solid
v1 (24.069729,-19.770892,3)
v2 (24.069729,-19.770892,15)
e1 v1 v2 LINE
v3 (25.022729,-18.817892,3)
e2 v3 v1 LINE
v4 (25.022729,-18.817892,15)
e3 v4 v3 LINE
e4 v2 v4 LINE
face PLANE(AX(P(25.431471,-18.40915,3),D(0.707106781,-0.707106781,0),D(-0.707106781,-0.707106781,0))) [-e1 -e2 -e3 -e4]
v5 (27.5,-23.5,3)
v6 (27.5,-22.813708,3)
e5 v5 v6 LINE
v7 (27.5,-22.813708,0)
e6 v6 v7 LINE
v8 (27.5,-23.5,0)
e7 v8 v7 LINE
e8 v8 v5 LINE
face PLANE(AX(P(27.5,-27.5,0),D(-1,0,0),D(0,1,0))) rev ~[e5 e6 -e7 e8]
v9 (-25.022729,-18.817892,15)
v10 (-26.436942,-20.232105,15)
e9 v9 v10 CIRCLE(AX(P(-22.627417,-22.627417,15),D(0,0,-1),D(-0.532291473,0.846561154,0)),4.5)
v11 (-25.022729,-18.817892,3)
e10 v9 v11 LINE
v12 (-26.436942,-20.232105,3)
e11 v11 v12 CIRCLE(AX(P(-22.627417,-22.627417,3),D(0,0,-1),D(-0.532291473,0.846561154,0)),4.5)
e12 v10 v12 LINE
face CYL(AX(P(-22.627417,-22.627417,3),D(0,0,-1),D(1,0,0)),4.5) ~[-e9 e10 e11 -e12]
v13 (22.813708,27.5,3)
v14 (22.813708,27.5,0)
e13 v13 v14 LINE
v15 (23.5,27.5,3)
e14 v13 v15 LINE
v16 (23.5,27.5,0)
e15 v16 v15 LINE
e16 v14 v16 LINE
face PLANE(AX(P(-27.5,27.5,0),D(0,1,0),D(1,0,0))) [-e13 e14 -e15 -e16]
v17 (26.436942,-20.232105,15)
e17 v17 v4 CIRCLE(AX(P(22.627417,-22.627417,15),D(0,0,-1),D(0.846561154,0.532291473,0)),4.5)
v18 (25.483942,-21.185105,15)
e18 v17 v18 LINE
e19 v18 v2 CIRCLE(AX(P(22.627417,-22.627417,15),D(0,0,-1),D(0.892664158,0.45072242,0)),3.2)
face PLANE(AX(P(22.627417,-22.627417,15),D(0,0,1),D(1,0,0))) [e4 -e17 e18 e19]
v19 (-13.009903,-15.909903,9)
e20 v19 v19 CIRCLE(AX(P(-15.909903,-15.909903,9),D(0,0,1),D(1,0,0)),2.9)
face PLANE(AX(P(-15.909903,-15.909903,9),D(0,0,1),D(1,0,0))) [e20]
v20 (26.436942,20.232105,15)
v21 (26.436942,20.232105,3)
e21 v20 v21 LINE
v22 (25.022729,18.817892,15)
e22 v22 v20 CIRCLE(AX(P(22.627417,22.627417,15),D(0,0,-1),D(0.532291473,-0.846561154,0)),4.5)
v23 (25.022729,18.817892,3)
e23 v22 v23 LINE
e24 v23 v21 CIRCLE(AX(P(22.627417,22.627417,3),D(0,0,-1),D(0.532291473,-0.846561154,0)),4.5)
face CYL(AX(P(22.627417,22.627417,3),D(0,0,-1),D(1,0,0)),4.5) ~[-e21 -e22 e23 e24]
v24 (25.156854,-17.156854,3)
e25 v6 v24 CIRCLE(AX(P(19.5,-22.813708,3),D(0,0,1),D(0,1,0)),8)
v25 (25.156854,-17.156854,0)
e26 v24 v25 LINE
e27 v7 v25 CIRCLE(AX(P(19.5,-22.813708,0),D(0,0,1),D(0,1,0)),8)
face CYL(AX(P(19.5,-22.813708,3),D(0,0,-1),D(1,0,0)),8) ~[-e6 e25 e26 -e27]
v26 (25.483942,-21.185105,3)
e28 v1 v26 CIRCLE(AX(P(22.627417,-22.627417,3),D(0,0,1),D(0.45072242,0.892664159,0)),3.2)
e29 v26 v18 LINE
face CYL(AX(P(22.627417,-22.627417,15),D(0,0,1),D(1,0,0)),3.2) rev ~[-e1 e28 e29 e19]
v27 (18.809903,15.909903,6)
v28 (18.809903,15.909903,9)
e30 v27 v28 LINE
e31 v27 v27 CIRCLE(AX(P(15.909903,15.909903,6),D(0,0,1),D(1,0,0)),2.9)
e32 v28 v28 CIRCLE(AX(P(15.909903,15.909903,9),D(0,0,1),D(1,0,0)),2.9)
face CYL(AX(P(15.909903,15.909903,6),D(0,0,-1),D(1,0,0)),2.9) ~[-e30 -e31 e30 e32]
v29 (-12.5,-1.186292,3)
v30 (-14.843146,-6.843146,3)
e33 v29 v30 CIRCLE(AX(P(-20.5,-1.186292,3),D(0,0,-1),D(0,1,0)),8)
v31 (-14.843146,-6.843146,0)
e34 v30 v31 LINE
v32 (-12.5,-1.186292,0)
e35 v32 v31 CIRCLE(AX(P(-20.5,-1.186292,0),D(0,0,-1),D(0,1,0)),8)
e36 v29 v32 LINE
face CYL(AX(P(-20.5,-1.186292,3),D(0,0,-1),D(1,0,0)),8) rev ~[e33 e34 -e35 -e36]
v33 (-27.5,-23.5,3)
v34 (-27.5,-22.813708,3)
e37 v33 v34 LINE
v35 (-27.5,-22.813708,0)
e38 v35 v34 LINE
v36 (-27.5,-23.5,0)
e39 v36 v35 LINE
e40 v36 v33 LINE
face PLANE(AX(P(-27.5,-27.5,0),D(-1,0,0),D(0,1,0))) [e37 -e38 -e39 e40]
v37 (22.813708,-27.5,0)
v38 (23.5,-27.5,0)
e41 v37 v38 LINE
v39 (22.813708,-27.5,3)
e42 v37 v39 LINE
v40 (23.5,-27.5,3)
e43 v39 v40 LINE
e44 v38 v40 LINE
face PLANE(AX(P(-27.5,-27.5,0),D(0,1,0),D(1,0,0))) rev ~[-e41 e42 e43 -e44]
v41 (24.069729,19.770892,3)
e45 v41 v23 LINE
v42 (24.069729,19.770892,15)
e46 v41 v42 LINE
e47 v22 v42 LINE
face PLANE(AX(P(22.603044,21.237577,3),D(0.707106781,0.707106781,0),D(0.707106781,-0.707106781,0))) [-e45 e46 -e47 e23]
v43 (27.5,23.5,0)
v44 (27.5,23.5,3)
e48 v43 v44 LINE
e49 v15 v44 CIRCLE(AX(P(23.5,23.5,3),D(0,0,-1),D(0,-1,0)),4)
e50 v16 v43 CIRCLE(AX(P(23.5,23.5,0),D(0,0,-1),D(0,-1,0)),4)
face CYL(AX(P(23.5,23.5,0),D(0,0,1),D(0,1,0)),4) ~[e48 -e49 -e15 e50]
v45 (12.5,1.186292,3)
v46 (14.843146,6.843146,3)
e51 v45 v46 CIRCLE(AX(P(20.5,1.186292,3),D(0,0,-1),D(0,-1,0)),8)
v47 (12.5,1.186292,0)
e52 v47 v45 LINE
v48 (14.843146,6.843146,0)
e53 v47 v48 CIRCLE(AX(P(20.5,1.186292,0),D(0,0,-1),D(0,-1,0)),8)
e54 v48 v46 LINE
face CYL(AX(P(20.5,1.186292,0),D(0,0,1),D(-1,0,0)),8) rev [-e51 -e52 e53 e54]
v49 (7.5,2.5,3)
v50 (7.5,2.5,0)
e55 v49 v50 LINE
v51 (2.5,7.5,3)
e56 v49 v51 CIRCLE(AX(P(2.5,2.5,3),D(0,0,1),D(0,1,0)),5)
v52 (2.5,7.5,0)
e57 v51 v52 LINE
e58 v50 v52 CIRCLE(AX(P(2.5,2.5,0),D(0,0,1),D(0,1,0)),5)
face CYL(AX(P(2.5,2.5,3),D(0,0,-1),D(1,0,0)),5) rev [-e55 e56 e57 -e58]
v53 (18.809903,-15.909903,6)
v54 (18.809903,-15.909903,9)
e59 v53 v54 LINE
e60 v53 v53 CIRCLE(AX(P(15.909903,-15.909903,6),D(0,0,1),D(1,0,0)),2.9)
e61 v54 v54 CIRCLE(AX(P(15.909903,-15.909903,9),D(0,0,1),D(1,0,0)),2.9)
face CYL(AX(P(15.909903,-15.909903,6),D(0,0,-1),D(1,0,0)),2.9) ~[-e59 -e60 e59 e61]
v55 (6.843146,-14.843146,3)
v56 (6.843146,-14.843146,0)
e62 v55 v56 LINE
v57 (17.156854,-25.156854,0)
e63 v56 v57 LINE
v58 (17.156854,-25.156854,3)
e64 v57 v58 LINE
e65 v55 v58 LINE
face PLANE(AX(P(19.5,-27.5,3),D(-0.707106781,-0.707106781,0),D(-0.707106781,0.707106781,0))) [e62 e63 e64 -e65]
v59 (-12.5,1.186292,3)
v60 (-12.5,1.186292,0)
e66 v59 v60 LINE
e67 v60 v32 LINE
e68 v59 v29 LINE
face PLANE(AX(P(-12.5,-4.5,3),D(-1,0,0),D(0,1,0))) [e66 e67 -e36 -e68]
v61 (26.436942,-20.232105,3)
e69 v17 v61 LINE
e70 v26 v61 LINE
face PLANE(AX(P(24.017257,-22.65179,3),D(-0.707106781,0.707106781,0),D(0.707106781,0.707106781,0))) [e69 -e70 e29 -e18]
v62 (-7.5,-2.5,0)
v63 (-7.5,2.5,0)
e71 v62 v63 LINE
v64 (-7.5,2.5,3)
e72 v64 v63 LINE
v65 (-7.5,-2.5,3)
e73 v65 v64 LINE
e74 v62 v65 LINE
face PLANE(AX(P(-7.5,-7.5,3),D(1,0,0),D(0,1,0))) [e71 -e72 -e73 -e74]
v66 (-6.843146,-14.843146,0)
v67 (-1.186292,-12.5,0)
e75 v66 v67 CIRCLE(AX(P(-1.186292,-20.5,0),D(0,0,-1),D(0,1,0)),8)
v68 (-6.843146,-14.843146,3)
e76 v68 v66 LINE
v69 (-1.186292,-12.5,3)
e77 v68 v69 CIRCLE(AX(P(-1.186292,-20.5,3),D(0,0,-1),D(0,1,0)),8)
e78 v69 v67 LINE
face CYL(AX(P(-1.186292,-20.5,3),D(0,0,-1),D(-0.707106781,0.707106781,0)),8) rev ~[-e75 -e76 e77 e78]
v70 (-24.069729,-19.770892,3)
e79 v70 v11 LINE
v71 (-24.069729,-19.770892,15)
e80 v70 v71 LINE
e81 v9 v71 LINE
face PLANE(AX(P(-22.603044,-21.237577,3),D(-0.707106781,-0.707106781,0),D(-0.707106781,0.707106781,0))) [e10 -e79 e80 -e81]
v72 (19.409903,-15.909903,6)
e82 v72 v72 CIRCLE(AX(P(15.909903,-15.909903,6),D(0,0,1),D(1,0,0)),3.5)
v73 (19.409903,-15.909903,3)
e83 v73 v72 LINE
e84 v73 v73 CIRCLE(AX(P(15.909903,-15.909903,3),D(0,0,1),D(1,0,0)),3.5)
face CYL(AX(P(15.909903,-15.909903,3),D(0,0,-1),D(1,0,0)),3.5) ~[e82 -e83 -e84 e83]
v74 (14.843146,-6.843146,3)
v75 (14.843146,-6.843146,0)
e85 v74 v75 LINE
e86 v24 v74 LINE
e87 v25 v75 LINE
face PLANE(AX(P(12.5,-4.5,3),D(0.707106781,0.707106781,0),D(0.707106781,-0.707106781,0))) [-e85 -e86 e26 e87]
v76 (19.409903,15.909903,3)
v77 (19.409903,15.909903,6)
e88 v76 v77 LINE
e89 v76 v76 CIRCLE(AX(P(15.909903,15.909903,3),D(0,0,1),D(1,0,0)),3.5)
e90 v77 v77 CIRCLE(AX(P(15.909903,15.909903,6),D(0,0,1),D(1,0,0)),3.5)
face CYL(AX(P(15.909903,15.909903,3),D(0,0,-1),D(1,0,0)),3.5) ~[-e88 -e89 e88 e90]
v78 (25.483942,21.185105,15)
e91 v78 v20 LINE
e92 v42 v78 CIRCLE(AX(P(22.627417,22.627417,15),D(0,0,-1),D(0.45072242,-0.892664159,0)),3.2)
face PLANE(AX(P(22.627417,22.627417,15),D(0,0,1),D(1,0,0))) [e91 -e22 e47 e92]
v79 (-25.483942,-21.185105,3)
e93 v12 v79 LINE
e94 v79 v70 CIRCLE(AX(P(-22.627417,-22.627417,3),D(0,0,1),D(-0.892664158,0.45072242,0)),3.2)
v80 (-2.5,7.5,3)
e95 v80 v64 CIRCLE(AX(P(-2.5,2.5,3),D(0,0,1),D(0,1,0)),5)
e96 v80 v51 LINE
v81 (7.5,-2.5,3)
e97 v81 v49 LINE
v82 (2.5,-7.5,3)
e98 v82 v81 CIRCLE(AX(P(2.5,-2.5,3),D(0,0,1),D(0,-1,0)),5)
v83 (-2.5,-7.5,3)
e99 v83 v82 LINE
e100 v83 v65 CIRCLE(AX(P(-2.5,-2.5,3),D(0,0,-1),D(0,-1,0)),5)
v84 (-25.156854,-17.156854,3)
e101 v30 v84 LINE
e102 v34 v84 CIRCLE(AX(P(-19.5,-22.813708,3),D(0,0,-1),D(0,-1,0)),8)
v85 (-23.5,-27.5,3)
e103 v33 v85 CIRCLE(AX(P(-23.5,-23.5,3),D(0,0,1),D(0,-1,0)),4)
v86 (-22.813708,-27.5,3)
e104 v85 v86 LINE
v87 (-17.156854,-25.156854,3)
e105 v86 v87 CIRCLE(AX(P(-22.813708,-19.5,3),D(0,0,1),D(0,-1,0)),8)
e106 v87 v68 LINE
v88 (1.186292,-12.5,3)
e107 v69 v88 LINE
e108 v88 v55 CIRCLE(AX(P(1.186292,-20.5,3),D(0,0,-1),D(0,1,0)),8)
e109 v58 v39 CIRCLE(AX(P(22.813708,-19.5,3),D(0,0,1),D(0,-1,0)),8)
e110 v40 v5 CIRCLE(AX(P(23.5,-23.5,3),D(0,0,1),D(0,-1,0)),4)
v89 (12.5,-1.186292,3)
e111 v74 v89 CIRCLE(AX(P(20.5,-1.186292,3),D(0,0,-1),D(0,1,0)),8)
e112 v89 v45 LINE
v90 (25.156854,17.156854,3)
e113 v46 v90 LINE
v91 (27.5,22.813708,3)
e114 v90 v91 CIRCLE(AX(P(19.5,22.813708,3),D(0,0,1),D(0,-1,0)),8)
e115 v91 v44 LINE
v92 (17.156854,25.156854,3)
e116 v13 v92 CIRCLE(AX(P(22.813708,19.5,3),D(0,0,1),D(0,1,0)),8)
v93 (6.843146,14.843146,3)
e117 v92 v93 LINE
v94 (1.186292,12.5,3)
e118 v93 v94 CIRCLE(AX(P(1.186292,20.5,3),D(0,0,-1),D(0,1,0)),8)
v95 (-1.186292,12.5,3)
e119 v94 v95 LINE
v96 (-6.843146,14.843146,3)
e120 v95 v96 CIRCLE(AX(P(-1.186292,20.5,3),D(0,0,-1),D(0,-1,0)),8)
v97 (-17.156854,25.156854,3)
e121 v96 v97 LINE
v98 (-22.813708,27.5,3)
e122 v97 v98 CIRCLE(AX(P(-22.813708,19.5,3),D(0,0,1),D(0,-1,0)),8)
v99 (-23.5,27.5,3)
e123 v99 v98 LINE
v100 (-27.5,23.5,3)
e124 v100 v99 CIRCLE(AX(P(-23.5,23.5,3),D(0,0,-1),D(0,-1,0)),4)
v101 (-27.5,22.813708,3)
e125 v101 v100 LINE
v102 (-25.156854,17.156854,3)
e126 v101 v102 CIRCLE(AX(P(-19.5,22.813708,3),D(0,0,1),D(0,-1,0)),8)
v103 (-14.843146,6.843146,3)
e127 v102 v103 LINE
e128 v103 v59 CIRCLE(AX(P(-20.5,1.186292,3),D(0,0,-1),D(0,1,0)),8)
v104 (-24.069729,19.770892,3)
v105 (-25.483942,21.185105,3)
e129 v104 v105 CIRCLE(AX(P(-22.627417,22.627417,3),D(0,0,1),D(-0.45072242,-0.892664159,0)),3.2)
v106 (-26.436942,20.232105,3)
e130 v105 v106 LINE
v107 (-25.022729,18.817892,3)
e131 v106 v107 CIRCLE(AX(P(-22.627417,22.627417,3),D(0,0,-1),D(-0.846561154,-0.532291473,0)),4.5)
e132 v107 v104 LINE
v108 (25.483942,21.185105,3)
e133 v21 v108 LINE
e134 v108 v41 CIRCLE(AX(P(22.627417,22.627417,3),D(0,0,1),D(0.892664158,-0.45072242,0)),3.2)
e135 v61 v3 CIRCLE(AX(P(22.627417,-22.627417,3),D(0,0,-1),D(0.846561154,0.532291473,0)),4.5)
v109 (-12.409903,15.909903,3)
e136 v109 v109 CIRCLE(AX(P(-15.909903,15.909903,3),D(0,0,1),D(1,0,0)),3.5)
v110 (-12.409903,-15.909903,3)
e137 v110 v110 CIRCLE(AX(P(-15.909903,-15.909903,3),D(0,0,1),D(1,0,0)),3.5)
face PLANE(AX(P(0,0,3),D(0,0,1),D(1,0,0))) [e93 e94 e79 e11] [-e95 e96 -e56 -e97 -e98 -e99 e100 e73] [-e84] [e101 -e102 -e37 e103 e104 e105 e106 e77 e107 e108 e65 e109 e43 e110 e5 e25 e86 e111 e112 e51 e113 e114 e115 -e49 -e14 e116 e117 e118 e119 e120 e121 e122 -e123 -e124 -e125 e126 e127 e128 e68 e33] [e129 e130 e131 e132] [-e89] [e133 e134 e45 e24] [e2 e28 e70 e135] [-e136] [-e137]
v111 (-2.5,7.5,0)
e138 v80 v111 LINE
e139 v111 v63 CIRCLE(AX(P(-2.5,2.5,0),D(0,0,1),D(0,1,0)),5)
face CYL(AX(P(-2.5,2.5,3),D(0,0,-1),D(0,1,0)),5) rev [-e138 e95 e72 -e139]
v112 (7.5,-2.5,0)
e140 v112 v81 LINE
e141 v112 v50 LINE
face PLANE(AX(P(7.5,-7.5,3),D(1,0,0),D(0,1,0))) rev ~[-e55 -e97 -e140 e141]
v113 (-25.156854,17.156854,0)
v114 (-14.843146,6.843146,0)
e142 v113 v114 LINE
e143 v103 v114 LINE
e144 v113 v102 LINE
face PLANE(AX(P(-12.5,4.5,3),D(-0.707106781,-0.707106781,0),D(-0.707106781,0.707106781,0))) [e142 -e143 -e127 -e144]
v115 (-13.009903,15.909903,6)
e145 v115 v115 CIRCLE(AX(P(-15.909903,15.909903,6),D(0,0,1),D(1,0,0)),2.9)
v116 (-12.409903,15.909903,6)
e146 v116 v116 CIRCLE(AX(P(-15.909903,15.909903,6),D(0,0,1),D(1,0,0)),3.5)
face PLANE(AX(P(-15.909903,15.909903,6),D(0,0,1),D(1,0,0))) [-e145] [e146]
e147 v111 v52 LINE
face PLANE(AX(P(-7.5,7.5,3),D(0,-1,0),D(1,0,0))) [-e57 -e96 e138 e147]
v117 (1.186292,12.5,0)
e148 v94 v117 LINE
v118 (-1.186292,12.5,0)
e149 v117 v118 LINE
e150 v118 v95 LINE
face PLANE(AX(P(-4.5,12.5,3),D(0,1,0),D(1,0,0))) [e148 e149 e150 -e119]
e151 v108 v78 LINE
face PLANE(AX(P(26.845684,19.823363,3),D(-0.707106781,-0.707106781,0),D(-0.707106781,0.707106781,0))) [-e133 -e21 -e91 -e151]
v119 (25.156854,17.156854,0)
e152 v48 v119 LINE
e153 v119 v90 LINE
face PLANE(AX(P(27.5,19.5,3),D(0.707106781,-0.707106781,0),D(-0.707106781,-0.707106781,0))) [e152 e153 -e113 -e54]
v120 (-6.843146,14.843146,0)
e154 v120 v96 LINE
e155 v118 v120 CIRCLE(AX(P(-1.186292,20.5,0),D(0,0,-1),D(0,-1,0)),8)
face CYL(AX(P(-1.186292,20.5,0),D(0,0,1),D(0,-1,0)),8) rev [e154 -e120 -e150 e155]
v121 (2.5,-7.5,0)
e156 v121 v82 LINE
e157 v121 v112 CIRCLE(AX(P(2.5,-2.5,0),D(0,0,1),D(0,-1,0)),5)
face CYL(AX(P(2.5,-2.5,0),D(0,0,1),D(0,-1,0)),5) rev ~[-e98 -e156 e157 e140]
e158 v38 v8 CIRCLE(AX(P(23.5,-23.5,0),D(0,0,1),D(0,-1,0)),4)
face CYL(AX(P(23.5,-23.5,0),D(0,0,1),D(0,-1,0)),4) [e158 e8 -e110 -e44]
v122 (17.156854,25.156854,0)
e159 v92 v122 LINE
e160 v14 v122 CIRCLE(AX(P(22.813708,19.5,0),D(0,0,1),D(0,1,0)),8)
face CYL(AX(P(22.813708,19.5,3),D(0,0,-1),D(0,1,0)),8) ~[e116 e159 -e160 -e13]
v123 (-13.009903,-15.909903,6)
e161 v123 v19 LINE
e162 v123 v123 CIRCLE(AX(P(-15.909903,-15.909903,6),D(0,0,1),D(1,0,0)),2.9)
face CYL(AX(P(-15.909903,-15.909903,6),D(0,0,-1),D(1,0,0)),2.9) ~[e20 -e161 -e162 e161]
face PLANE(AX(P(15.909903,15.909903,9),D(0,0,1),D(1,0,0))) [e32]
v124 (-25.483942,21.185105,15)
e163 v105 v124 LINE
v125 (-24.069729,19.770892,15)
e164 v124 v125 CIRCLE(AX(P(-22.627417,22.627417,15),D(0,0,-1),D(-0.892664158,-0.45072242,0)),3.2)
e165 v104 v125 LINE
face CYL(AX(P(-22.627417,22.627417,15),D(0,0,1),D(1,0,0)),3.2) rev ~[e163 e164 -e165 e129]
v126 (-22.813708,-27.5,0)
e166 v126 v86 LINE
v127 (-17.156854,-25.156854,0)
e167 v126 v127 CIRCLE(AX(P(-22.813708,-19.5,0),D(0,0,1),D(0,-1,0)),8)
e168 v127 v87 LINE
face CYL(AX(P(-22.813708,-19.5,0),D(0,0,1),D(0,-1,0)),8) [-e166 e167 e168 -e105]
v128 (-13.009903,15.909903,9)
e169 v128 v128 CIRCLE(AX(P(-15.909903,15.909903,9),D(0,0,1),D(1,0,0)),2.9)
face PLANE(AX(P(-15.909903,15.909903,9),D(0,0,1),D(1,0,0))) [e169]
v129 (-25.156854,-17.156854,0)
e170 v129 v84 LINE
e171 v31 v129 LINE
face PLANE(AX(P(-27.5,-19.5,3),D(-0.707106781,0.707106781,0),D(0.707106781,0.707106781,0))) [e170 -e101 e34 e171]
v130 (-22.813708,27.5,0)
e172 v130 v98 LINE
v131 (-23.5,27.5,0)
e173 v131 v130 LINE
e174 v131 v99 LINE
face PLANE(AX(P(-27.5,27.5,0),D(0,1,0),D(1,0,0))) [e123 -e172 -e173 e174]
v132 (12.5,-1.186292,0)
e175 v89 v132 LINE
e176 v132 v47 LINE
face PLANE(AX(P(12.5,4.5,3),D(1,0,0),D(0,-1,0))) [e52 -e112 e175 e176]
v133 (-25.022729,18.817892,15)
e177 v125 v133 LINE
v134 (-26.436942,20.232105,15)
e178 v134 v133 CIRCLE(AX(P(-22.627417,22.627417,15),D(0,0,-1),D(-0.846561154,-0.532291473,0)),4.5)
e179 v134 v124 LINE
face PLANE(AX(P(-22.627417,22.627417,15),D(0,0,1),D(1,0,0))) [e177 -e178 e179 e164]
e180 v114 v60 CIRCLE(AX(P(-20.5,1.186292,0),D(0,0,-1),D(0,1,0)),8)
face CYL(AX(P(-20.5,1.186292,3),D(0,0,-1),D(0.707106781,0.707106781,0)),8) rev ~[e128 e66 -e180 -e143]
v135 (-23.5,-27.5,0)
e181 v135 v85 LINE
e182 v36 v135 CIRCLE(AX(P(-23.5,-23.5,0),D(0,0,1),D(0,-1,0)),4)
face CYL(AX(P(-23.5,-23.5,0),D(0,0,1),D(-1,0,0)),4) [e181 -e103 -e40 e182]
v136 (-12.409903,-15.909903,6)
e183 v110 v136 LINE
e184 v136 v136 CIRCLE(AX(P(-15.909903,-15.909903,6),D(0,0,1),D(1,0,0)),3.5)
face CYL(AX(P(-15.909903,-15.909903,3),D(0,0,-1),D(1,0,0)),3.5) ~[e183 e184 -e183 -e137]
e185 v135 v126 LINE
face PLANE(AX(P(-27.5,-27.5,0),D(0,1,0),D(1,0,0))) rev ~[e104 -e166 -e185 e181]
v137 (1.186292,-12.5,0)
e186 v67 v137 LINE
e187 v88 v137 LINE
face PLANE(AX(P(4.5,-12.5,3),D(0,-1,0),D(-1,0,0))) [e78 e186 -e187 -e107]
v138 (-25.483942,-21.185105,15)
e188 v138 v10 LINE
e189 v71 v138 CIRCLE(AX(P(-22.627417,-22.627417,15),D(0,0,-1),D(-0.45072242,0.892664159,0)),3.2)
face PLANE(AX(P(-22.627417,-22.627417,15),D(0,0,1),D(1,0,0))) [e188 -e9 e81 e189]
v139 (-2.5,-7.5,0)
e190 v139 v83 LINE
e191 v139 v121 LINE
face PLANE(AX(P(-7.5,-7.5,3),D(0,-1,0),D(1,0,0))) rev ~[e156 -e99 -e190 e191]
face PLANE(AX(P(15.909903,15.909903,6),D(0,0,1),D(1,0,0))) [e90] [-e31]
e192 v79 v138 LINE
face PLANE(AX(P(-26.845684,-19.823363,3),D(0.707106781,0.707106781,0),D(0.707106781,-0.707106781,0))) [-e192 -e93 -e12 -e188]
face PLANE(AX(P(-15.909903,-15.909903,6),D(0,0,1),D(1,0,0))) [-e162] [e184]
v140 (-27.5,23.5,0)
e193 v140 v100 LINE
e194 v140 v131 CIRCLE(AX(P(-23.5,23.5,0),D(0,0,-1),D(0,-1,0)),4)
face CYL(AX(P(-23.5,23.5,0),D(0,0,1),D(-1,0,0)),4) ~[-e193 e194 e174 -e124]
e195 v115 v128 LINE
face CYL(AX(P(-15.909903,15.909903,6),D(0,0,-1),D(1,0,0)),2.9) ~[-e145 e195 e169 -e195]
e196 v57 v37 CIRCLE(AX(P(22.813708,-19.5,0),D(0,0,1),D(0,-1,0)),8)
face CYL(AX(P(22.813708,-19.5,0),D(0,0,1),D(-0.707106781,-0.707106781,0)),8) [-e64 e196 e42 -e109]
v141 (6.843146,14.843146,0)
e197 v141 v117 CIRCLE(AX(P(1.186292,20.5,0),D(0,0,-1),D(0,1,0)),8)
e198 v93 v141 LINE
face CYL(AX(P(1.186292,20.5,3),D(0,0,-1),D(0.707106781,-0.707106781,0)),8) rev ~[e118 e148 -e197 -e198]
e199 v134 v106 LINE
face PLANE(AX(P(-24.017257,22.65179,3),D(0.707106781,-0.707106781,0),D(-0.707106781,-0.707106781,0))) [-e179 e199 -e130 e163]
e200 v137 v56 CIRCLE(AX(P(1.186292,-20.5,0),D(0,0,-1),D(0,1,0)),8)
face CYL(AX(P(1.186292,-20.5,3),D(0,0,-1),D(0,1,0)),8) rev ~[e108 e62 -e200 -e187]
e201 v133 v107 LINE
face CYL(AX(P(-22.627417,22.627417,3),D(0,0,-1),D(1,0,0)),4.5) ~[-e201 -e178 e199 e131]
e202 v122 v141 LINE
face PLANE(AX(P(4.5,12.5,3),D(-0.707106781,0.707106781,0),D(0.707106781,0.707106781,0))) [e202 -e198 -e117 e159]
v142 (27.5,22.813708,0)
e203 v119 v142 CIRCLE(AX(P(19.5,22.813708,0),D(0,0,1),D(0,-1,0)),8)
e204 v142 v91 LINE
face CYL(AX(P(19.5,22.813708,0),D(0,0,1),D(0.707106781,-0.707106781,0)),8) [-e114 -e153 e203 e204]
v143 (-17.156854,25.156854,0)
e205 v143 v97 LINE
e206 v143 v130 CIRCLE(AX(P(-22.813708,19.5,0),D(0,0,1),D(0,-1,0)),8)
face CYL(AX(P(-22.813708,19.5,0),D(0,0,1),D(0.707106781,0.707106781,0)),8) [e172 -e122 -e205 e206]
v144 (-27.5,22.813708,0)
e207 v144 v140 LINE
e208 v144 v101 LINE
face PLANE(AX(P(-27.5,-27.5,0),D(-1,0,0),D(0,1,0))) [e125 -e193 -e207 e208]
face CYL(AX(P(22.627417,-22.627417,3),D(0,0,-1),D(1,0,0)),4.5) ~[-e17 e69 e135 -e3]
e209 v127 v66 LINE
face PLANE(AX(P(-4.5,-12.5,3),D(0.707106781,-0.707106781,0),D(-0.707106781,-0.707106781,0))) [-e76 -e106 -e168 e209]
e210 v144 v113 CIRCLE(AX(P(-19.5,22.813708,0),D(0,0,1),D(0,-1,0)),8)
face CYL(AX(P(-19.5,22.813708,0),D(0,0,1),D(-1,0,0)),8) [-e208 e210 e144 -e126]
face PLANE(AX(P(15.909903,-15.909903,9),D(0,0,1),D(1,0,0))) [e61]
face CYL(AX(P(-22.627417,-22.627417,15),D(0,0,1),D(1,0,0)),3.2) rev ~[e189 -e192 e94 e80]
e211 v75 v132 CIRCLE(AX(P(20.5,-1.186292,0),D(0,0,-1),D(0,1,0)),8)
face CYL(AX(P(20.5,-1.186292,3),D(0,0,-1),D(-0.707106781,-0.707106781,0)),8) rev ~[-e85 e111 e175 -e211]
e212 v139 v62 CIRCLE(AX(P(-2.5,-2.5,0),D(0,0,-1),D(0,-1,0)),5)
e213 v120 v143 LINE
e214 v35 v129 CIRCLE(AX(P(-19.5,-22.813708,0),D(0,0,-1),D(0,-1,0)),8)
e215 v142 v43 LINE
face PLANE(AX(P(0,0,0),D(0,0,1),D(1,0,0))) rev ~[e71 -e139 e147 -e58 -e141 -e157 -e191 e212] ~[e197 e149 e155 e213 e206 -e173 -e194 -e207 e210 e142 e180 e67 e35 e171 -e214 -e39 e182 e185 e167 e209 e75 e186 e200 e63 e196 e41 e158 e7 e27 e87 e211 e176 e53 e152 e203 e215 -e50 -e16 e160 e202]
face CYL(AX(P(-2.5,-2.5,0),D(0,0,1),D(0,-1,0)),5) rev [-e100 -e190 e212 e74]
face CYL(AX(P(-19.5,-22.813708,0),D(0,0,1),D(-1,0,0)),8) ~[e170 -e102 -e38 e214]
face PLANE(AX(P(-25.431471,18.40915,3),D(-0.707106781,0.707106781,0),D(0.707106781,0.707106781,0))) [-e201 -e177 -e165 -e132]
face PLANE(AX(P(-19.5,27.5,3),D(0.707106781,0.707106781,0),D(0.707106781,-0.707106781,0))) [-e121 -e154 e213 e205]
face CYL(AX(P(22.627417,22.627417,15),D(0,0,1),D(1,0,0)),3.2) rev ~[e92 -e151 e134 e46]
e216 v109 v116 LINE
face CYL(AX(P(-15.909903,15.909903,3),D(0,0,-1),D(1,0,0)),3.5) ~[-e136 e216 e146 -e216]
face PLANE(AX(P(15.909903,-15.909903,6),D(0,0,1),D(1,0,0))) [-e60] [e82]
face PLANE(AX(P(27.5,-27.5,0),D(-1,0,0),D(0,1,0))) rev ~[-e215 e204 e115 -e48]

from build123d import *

# Parameters (mm, degrees)
F0_W      = 55
F0_H      = 55
F1_DEPTH  = 3
F2_R      = 3.5
F3_DEPTH  = 3
F4_R      = 2.9
F5_DEPTH  = 3
F6_R      = 4.5
F7_DEPTH  = 12
F8_R      = 3.2
F9_DEPTH  = 12
F10_R     = 4
F11_W     = 15
F11_H     = 15
F12_DEPTH = 20
F14_DEPTH = 25
F15_R     = 8
F16_R     = 5


with BuildPart() as f1:
    # F0 (on Top) → F1 (new body)
    with BuildSketch(Plane.XY):
        Rectangle(F0_W, F0_H)
    extrude(amount=F1_DEPTH)

    # F2 (on face) → F3 (join)
    with BuildSketch(Plane.XY.offset(3)):
        with Locations((-15.9099025767, 15.9099025767)):
            Circle(F2_R)
        with Locations((15.9099025767, 15.9099025767)):
            Circle(F2_R)
        with Locations((-15.9099025767, -15.9099025767)):
            Circle(F2_R)
        with Locations((15.9099025767, -15.9099025767)):
            Circle(F2_R)
    extrude(amount=F3_DEPTH)

    # F4 (on face) → F5 (join)
    with BuildSketch(Plane.XY.offset(6)):
        with Locations((-15.9099025767, 15.9099025767)):
            Circle(F4_R)
        with Locations((15.9099025767, 15.9099025767)):
            Circle(F4_R)
        with Locations((-15.9099025767, -15.9099025767)):
            Circle(F4_R)
        with Locations((15.9099025767, -15.9099025767)):
            Circle(F4_R)
    extrude(amount=F5_DEPTH)

    # F6 (on face) → F7 (join)
    with BuildSketch(Plane.XY.offset(3)):
        with Locations((-22.627416998, 22.627416998)):
            Circle(F6_R)
        with Locations((22.627416998, 22.627416998)):
            Circle(F6_R)
        with Locations((22.627416998, -22.627416998)):
            Circle(F6_R)
        with Locations((-22.627416998, -22.627416998)):
            Circle(F6_R)
    extrude(amount=F7_DEPTH)

    # F8 (on face) → F9 (cut)
    with BuildSketch(Plane.XY.offset(15)):
        with Locations((-22.627416998, -22.627416998)):
            Circle(F8_R)
        with Locations((22.627416998, -22.627416998)):
            Circle(F8_R)
        with Locations((-22.627416998, 22.627416998)):
            Circle(F8_R)
        with Locations((22.627416998, 22.627416998)):
            Circle(F8_R)
    extrude(amount=-F9_DEPTH, mode=Mode.SUBTRACT)

    # F10
    f10_edges = [f1.edges().sort_by_distance(p)[0] for p in [
        (27.5, -27.5, 1.5),
        (-27.5, -27.5, 1.5),
        (-27.5, 27.5, 1.5),
        (27.5, 27.5, 1.5),
    ]]
    fillet(f10_edges, radius=F10_R)

    # F11 (on face) → F12 (cut, symmetric)
    with BuildSketch(Plane.XY.offset(3)):
        Polygon((-12.5, 4.5), (-27.5, 19.5), (-27.5, -19.5), (-12.5, -4.5), align=None)
        Polygon((19.5, 27.5), (-19.5, 27.5), (-4.5, 12.5), (4.5, 12.5), align=None)
        Polygon((27.5, -19.5), (27.5, 19.5), (12.5, 4.5), (12.5, -4.5), align=None)
        Polygon((-4.5, -12.5), (-19.5, -27.5), (19.5, -27.5), (4.5, -12.5), align=None)
        Rectangle(F11_W, F11_H)
    extrude(amount=F12_DEPTH, both=True, mode=Mode.SUBTRACT)

    # F13 (on face) → F14 (cut)
    with BuildSketch(Plane.XY.offset(3)):
        Polygon((-26.8456843913, 19.823363167), (-25.4314708289, 18.4091496047), (-22.6030437041, 21.2375767294), (-24.0172572665, 22.6517902918), align=None)
        Polygon((22.6030437041, 21.2375767294), (25.4314708289, 18.4091496047), (26.8456843913, 19.823363167), (24.0172572665, 22.6517902918), align=None)
        Polygon((-25.4314708289, -18.4091496047), (-26.8456843913, -19.823363167), (-24.0172572665, -22.6517902918), (-22.6030437041, -21.2375767294), align=None)
        Polygon((26.8456843913, -19.823363167), (25.4314708289, -18.4091496047), (22.6030437041, -21.2375767294), (24.0172572665, -22.6517902918), align=None)
    extrude(amount=F14_DEPTH, mode=Mode.SUBTRACT)

    # F15
    f15_edges = [f1.edges().sort_by_distance(p)[0] for p in [
        (19.5, -27.5, 1.5),
        (4.5, -12.5, 1.5),
        (-4.5, -12.5, 1.5),
        (-19.5, -27.5, 1.5),
        (-27.5, -19.5, 1.5),
        (-12.5, -4.5, 1.5),
        (-12.5, 4.5, 1.5),
        (-27.5, 19.5, 1.5),
        (-19.5, 27.5, 1.5),
        (-4.5, 12.5, 1.5),
        (4.5, 12.5, 1.5),
        (19.5, 27.5, 1.5),
        (12.5, -4.5, 1.5),
        (12.5, 4.5, 1.5),
        (27.5, 19.5, 1.5),
        (27.5, -19.5, 1.5),
    ]]
    fillet(f15_edges, radius=F15_R)

    # F16
    f16_edges = [f1.edges().sort_by_distance(p)[0] for p in [
        (-7.5, 7.5, 1.5),
        (7.5, 7.5, 1.5),
        (7.5, -7.5, 1.5),
        (-7.5, -7.5, 1.5),
    ]]
    fillet(f16_edges, radius=F16_R)


solid = f1.part
